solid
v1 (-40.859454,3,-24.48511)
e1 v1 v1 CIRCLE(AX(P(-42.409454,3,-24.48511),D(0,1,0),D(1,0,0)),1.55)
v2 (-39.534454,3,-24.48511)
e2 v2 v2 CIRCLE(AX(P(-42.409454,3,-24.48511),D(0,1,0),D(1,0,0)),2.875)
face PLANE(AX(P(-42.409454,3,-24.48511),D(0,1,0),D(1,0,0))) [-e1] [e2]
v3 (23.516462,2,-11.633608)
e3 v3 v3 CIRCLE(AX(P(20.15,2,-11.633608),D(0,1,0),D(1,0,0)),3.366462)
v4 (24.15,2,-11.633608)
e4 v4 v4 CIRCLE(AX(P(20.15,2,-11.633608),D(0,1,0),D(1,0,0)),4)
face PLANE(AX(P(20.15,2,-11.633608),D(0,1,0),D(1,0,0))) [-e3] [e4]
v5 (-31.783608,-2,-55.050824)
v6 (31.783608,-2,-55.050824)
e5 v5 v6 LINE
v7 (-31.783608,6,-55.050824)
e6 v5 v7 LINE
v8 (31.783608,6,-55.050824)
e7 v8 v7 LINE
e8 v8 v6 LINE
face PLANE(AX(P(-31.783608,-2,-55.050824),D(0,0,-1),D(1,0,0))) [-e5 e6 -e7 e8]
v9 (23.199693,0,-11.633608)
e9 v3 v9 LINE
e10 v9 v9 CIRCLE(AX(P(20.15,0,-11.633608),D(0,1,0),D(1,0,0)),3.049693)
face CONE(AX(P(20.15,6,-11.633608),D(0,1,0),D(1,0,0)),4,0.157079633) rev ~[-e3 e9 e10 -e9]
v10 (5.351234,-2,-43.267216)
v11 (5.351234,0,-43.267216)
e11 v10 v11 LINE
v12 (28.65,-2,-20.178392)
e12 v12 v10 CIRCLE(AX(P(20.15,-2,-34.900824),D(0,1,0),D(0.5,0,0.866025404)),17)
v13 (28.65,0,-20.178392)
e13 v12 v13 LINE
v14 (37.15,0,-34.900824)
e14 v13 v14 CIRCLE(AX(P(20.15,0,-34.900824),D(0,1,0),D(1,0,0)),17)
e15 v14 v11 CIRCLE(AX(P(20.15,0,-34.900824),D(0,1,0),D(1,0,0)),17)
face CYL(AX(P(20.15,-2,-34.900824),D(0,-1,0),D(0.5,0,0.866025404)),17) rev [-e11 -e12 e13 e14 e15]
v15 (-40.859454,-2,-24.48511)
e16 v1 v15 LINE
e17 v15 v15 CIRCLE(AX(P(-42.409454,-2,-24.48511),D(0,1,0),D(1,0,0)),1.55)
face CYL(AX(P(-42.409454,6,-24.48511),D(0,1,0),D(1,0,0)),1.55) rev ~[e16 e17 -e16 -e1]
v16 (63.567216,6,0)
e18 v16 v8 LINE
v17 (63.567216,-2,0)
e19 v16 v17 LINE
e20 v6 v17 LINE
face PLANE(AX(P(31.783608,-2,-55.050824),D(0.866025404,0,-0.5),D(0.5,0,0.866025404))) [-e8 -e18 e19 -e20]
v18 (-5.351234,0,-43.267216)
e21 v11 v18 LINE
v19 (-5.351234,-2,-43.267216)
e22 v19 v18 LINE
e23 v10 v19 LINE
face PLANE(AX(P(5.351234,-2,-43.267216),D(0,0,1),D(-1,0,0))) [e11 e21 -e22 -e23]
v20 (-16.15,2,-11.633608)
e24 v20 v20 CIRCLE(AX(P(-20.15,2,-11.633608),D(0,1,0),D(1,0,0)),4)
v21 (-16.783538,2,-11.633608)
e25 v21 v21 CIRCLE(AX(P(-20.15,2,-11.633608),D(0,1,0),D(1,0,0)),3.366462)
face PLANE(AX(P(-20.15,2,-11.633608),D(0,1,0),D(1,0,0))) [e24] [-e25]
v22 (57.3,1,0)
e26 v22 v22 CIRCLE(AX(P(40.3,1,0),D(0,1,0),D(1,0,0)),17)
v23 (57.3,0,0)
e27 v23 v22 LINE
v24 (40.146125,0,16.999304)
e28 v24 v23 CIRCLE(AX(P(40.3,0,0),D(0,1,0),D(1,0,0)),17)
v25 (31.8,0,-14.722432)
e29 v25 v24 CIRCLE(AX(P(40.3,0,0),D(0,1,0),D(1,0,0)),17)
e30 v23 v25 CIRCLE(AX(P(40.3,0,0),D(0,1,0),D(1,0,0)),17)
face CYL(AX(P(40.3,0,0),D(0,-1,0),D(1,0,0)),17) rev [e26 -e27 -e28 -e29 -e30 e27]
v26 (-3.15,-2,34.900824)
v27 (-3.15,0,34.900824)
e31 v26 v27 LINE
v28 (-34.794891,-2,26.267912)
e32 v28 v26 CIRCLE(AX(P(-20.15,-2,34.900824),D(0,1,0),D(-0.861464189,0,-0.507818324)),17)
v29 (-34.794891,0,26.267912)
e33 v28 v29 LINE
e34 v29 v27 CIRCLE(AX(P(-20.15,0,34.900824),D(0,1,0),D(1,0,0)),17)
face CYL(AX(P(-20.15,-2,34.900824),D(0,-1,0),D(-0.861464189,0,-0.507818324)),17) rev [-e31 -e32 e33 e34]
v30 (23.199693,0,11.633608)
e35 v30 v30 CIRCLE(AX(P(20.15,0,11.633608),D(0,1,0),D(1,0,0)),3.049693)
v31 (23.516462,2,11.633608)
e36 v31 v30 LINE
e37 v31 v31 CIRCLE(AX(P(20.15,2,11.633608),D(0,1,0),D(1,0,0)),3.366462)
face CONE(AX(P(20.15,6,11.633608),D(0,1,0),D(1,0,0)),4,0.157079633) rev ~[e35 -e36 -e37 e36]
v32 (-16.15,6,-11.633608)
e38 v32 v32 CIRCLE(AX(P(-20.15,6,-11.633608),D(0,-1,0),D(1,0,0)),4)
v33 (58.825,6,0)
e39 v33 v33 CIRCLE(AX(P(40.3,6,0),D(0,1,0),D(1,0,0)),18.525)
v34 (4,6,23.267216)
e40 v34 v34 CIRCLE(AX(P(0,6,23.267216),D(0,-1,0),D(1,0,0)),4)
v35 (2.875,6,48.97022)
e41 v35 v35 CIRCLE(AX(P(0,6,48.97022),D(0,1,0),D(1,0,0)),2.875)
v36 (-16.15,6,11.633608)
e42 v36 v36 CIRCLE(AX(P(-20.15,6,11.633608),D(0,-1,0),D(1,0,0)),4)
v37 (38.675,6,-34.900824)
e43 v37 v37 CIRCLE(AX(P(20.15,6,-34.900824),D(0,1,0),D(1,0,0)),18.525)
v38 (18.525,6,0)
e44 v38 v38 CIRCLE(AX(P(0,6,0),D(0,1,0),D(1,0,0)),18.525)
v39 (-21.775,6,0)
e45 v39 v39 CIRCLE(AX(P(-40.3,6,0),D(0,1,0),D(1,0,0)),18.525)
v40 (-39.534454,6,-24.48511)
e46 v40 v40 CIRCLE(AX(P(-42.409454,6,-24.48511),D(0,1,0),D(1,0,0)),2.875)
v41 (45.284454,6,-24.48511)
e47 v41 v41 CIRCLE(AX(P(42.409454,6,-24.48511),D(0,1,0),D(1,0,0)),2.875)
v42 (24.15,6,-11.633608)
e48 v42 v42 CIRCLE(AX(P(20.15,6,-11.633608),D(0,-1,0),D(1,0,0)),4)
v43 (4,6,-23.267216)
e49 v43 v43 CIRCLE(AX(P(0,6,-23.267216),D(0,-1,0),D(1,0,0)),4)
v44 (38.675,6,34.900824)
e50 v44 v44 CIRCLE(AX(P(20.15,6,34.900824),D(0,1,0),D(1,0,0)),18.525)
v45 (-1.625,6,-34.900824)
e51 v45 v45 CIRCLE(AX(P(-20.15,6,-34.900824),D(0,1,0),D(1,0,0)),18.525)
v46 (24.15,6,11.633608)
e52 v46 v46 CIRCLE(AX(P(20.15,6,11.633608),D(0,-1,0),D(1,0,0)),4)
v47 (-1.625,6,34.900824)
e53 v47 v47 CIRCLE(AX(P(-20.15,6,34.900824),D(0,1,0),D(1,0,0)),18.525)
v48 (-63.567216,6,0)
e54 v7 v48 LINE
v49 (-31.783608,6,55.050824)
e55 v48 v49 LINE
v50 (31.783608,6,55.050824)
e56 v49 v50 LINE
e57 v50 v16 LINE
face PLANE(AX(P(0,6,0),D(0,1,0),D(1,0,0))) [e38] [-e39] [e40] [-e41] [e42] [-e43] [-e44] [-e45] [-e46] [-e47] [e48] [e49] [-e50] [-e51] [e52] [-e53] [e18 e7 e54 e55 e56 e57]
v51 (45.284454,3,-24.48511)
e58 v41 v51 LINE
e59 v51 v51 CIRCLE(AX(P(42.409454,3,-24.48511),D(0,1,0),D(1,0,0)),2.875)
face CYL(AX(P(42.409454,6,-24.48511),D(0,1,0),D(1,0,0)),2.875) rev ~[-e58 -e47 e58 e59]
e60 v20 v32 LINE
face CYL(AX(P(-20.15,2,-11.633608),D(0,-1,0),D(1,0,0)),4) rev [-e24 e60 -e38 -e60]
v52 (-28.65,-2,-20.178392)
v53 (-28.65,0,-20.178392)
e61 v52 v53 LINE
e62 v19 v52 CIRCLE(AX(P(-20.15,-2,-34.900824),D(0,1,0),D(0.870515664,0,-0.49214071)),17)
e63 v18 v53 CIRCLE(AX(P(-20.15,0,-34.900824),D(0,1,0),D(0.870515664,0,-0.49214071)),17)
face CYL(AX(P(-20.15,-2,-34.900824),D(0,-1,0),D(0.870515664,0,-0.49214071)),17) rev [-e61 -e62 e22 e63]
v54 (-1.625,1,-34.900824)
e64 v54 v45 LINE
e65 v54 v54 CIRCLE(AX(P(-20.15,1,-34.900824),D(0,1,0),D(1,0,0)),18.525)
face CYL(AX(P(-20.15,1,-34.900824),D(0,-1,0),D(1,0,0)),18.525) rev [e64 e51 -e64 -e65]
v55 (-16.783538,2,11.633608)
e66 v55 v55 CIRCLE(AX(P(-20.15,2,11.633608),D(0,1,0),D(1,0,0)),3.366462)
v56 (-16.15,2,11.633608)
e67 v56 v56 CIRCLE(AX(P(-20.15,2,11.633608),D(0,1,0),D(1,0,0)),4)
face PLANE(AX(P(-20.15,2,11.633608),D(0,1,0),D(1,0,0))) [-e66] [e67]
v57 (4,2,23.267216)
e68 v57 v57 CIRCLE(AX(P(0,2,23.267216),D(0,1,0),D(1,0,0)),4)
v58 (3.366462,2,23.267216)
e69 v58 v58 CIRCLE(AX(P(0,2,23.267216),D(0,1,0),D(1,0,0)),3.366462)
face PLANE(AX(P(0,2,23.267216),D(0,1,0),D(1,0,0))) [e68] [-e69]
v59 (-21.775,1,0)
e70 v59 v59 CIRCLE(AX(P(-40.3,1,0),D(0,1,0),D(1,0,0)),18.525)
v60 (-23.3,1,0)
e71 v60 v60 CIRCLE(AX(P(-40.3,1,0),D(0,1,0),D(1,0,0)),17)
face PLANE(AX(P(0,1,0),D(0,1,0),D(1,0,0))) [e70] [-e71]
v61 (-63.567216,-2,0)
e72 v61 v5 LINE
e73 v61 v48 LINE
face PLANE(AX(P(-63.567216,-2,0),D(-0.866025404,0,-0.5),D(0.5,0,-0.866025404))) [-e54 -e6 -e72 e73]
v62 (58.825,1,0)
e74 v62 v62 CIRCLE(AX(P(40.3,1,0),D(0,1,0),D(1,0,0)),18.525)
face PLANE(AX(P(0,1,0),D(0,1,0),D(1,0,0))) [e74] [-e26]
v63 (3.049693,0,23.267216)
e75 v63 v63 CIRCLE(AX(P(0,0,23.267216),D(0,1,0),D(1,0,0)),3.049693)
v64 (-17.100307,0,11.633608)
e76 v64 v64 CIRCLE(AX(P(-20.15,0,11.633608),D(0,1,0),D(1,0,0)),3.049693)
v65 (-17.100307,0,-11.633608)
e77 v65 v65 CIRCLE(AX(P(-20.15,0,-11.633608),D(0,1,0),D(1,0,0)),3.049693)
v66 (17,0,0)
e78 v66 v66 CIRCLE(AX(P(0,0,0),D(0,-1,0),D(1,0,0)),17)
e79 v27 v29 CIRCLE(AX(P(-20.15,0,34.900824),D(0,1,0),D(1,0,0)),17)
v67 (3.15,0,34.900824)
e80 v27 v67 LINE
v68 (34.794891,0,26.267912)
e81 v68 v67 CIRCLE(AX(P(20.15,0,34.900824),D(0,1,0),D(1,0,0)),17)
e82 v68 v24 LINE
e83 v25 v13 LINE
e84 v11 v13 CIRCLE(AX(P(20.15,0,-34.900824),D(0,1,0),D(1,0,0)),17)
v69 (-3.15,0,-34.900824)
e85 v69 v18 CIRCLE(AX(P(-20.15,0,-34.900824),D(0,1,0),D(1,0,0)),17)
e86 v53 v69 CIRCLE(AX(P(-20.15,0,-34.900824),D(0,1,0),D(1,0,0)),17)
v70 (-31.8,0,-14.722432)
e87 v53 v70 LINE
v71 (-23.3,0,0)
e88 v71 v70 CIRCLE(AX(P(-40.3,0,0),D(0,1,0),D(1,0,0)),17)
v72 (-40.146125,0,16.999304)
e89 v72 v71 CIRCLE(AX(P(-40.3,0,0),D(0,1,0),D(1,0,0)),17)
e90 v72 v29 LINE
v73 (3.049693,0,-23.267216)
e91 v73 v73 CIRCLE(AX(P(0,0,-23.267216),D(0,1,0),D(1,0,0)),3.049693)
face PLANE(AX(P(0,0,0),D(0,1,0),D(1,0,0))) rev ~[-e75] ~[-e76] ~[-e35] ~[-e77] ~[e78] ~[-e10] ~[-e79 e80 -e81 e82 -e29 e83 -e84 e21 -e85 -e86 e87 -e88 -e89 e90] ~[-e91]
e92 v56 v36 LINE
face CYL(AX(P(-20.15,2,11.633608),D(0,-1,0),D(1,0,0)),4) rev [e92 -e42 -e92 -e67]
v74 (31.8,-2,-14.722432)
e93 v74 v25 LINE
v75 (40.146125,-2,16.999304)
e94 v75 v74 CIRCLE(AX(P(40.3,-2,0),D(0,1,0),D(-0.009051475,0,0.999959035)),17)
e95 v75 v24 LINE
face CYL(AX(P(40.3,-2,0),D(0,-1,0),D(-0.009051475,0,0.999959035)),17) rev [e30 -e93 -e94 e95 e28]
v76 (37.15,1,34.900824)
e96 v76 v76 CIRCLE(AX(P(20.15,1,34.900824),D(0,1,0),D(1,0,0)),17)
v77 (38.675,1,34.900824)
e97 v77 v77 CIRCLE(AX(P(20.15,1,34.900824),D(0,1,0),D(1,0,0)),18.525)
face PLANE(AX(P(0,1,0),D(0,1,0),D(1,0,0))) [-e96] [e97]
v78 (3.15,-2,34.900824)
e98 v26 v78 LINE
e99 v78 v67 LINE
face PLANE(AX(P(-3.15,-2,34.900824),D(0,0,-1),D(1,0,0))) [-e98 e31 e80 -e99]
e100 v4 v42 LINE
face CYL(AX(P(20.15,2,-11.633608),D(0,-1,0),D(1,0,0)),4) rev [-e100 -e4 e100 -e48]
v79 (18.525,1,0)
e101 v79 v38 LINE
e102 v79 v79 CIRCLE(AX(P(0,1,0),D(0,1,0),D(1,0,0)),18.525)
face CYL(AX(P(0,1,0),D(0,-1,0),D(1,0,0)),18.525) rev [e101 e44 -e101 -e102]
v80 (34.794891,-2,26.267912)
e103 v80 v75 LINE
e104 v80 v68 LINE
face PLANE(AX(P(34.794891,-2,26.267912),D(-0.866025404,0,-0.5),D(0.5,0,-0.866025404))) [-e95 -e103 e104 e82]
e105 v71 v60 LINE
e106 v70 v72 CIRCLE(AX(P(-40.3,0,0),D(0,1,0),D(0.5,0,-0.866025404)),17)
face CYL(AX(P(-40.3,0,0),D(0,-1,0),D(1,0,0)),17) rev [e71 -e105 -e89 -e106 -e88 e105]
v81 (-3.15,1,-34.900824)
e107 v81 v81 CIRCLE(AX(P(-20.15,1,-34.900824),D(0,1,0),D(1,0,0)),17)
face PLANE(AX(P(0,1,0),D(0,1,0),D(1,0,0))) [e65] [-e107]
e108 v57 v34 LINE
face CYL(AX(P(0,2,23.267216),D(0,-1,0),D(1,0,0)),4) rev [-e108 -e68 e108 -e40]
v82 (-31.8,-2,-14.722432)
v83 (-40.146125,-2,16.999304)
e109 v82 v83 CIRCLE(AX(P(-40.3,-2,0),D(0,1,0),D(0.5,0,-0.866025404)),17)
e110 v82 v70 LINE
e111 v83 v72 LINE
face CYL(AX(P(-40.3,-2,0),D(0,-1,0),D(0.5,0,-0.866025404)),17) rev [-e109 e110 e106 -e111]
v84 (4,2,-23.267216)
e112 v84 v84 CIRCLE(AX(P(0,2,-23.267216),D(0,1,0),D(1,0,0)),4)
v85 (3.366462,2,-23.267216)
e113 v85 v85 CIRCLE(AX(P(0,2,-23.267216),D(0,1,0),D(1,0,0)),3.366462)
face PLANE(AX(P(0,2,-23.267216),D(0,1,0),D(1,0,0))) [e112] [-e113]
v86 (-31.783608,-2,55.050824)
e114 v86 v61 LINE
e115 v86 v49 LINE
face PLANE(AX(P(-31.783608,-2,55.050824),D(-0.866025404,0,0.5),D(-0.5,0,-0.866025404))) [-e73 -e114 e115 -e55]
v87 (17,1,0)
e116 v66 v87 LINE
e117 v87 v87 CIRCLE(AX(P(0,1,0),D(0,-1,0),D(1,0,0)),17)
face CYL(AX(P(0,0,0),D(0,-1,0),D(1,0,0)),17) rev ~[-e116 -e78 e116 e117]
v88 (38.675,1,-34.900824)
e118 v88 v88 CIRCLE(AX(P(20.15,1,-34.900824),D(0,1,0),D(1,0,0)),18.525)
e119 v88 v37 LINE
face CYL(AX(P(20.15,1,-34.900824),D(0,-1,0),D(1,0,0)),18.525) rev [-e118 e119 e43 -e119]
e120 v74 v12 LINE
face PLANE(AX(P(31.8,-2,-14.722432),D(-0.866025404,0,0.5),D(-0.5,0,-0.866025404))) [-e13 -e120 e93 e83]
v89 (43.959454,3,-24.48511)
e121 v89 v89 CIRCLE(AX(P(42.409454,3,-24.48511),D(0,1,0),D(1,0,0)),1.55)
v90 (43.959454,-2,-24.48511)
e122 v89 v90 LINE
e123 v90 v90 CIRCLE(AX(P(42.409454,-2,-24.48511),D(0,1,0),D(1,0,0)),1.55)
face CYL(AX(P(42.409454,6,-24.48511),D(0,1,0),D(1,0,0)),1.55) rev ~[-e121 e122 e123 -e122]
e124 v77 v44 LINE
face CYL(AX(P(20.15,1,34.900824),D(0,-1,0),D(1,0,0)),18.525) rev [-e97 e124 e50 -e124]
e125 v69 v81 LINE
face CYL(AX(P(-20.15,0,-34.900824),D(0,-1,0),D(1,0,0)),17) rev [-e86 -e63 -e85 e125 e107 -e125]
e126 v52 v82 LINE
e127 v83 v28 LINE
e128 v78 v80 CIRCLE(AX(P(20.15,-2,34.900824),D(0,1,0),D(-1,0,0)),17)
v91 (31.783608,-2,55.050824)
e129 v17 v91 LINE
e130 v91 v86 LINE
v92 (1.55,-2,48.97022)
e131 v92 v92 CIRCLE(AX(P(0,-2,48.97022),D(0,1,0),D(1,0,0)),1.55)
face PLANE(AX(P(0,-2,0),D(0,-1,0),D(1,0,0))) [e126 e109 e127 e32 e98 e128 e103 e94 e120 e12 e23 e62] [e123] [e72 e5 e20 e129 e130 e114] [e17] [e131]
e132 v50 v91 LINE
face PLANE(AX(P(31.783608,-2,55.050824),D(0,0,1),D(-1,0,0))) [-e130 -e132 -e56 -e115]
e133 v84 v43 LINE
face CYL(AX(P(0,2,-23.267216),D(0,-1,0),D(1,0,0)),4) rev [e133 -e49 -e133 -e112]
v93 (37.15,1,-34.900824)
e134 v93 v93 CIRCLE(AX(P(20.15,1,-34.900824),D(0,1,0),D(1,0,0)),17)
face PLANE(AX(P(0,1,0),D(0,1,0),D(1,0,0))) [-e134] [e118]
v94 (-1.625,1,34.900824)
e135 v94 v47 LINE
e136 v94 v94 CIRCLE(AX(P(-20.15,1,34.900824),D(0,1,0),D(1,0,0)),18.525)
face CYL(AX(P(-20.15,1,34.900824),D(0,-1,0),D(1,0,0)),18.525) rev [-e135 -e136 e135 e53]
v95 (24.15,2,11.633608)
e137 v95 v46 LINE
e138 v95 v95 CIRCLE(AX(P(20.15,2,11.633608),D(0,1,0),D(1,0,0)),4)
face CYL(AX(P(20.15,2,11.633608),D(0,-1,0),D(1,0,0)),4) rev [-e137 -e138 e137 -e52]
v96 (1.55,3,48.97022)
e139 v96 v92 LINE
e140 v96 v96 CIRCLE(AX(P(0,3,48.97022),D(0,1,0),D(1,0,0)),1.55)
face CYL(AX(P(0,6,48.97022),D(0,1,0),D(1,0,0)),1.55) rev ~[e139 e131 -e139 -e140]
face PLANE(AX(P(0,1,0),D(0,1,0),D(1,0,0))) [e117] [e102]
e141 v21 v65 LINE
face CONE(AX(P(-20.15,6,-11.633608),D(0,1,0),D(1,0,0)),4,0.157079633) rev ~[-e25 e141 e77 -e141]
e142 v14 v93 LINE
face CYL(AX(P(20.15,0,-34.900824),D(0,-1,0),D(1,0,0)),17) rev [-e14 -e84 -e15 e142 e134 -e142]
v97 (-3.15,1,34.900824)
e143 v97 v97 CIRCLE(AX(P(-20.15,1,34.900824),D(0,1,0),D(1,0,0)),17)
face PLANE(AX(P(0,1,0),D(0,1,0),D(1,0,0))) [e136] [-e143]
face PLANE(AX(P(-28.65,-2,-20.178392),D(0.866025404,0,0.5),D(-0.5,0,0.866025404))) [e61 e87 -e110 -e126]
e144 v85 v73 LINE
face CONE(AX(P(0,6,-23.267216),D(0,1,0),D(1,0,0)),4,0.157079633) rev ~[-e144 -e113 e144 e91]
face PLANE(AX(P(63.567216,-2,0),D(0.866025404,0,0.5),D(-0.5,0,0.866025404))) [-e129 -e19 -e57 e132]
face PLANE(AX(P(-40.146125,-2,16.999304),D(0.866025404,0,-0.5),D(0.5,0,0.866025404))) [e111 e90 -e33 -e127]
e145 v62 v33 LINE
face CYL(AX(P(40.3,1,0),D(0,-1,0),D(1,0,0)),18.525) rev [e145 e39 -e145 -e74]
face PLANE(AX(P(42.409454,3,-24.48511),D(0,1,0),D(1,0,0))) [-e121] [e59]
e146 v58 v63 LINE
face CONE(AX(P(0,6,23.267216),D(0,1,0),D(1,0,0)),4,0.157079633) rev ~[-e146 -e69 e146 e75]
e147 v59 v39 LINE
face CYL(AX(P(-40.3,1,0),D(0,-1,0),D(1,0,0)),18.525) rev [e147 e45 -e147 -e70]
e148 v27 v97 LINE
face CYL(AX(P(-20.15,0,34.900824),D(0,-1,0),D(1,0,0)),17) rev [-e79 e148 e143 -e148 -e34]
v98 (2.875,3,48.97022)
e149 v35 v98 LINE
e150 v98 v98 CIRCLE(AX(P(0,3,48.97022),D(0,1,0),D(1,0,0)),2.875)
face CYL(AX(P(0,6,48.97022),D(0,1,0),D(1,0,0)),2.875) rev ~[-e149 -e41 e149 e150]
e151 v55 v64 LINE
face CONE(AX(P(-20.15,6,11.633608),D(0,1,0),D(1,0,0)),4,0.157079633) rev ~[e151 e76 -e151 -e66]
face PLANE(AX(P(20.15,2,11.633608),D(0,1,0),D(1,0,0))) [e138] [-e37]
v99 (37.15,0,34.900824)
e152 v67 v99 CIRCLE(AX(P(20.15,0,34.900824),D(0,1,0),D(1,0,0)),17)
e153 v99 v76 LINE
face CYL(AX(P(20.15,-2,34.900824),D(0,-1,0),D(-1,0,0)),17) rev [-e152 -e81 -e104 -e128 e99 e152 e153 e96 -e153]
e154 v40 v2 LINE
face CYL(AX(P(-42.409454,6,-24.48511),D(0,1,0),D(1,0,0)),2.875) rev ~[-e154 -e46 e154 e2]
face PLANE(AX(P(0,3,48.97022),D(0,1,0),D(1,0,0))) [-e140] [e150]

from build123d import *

# Parameters (mm, degrees)
SKETCH1_R                    = 17
BOSS_EXTRUDE1_DEPTH          = 1
SKETCH2_R                    = 18.525
BOSS_EXTRUDE2_DEPTH          = 5
CUT_EXTRUDE1_DEPTH           = 85.305303088
CUT_EXTRUDE1_DEPTH_BACK      = 4
SKETCH3_R                    = 4
SKETCH3_2_R                  = 4
CUT_EXTRUDE2_DEPTH           = 85.305303088
CUT_EXTRUDE2_DRAFT           = -9
CUT_EXTRUDE2_PROFILE_2_DEPTH = 85.305303088
CUT_EXTRUDE2_PROFILE_2_DRAFT = -9
CUT_EXTRUDE2_PROFILE_3_DEPTH = 85.305303088
CUT_EXTRUDE2_PROFILE_3_DRAFT = -9
CUT_EXTRUDE2_PROFILE_4_DEPTH = 85.305303088
CUT_EXTRUDE2_PROFILE_4_DRAFT = -9
CUT_EXTRUDE2_PROFILE_5_DEPTH = 85.305303088
CUT_EXTRUDE2_PROFILE_5_DRAFT = -9
CUT_EXTRUDE2_PROFILE_6_DEPTH = 85.305303088
CUT_EXTRUDE2_PROFILE_6_DRAFT = -9
BOSS_EXTRUDE3_START          = 2
BOSS_EXTRUDE3_DEPTH          = 2
SKETCH7_R                    = 1.55
CUT_EXTRUDE4_DEPTH           = 85.471202955
SKETCH7_3_R                  = 2.875
SKETCH7_3_R_2                = 1.55
CUT_EXTRUDE5_DEPTH           = 3


with BuildPart() as part:
    # Sketch1 → Boss-Extrude1 (new body)
    with BuildSketch(Plane(origin=(0, 0, 0), x_dir=(1, 0, 0), z_dir=(0, 1, 0))):
        Polygon((31.783607924, -55.050823773), (63.567215848, 0), (31.783607924, 55.050823773), (-31.783607924, 55.050823773), (-63.567215848, 0), (-31.783607924, -55.050823773), align=None)
        with Locations((-20.15, -34.900823773)):
            Circle(SKETCH1_R, mode=Mode.SUBTRACT)
        with Locations((20.15, -34.900823773)):
            Circle(SKETCH1_R, mode=Mode.SUBTRACT)
        with Locations((-40.3, 0)):
            Circle(SKETCH1_R, mode=Mode.SUBTRACT)
        with BuildLine():
            ThreePointArc((-17, 0), (0, 17), (17, 0))
            ThreePointArc((17, 0), (0, -17), (-17, 0))
        make_face(mode=Mode.SUBTRACT)
        with Locations((-20.15, 34.900823773)):
            Circle(SKETCH1_R, mode=Mode.SUBTRACT)
        with Locations((40.3, 0)):
            Circle(SKETCH1_R, mode=Mode.SUBTRACT)
        with Locations((20.15, 34.900823773)):
            Circle(SKETCH1_R, mode=Mode.SUBTRACT)
    extrude(amount=BOSS_EXTRUDE1_DEPTH)

    # Sketch2 → Boss-Extrude2 (add)
    with BuildSketch(Plane(origin=(0, 1, 0), x_dir=(1, 0, 0), z_dir=(0, 1, 0))):
        Polygon((63.567215848, 0), (31.783607924, 55.050823773), (-31.783607924, 55.050823773), (-63.567215848, 0), (-31.783607924, -55.050823773), (31.783607924, -55.050823773), align=None)
        with Locations((-40.3, 0)):
            Circle(SKETCH2_R, mode=Mode.SUBTRACT)
        with Locations((-20.15, 34.900823773)):
            Circle(SKETCH2_R, mode=Mode.SUBTRACT)
        with Locations((20.15, 34.900823773)):
            Circle(SKETCH2_R, mode=Mode.SUBTRACT)
        Circle(SKETCH2_R, mode=Mode.SUBTRACT)
        with Locations((40.3, 0)):
            Circle(SKETCH2_R, mode=Mode.SUBTRACT)
        with Locations((20.15, -34.900823773)):
            Circle(SKETCH2_R, mode=Mode.SUBTRACT)
        with Locations((-20.15, -34.900823773)):
            Circle(SKETCH2_R, mode=Mode.SUBTRACT)
    extrude(amount=BOSS_EXTRUDE2_DEPTH)

    # Sketch3 → Cut-Extrude1 (cut, two sides: drawn at the far end of the back side and taken through both)
    with BuildSketch(Plane(origin=(0, 6, 0), x_dir=(1, 0, 0), z_dir=(0, 1, 0)).offset(-CUT_EXTRUDE1_DEPTH_BACK)):
        with Locations((-20.15, 11.633607924)):
            Circle(SKETCH3_R)
        with Locations((20.15, 11.633607924)):
            Circle(SKETCH3_R)
        with Locations((0, -23.267215848)):
            Circle(SKETCH3_R)
        with Locations((-20.15, -11.633607924)):
            Circle(SKETCH3_R)
        with Locations((20.15, -11.633607924)):
            Circle(SKETCH3_R)
        with Locations((0, 23.267215848)):
            Circle(SKETCH3_R)
    extrude(amount=CUT_EXTRUDE1_DEPTH + CUT_EXTRUDE1_DEPTH_BACK, mode=Mode.SUBTRACT)


with BuildPart() as cut_extrude2_tool:
    # Sketch3<2> → Cut-Extrude2 (with draft: the straight prism first)
    with BuildSketch(Plane(origin=(0, 6, 0), x_dir=(1, 0, 0), z_dir=(0, 1, 0))):
        with Locations((-20.15, 11.633607924)):
            Circle(SKETCH3_2_R)
    extrude(amount=-CUT_EXTRUDE2_DEPTH)
    # Cut-Extrude2: the draft: its side faces are tilted about the plane it starts from
    cut_extrude2_sides = [cut_extrude2_tool.faces().sort_by_distance(p)[0] for p in [
        (-24.15, -36.652651544, -11.633607924),
    ]]
    draft(cut_extrude2_sides, Plane(origin=(0, 6, 0), x_dir=(1, 0, 0), z_dir=(0, 1, 0)), CUT_EXTRUDE2_DRAFT)


with BuildPart() as part_1:
    add(part.part)

    # Cut-Extrude2: cut by cut_extrude2_tool
    add(cut_extrude2_tool.part, mode=Mode.SUBTRACT)


with BuildPart() as cut_extrude2_profile_2_tool:
    # Sketch3<2> → Cut-Extrude2 profile 2 (with draft: the straight prism first)
    with BuildSketch(Plane(origin=(0, 6, 0), x_dir=(1, 0, 0), z_dir=(0, 1, 0))):
        with Locations((20.15, 11.633607924)):
            Circle(SKETCH3_2_R)
    extrude(amount=-CUT_EXTRUDE2_PROFILE_2_DEPTH)
    # Cut-Extrude2 profile 2: the draft: its side faces are tilted about the plane it starts from
    cut_extrude2_profile_2_sides = [cut_extrude2_profile_2_tool.faces().sort_by_distance(p)[0] for p in [
        (16.15, -36.652651544, -11.633607924),
    ]]
    draft(cut_extrude2_profile_2_sides, Plane(origin=(0, 6, 0), x_dir=(1, 0, 0), z_dir=(0, 1, 0)), CUT_EXTRUDE2_PROFILE_2_DRAFT)


with BuildPart() as part_2:
    add(part_1.part)

    # Cut-Extrude2 profile 2: cut by cut_extrude2_profile_2_tool
    add(cut_extrude2_profile_2_tool.part, mode=Mode.SUBTRACT)


with BuildPart() as cut_extrude2_profile_3_tool:
    # Sketch3<2> → Cut-Extrude2 profile 3 (with draft: the straight prism first)
    with BuildSketch(Plane(origin=(0, 6, 0), x_dir=(1, 0, 0), z_dir=(0, 1, 0))):
        with Locations((0, -23.267215848)):
            Circle(SKETCH3_2_R)
    extrude(amount=-CUT_EXTRUDE2_PROFILE_3_DEPTH)
    # Cut-Extrude2 profile 3: the draft: its side faces are tilted about the plane it starts from
    cut_extrude2_profile_3_sides = [cut_extrude2_profile_3_tool.faces().sort_by_distance(p)[0] for p in [
        (-4, -36.652651544, 23.267215848),
    ]]
    draft(cut_extrude2_profile_3_sides, Plane(origin=(0, 6, 0), x_dir=(1, 0, 0), z_dir=(0, 1, 0)), CUT_EXTRUDE2_PROFILE_3_DRAFT)


with BuildPart() as part_3:
    add(part_2.part)

    # Cut-Extrude2 profile 3: cut by cut_extrude2_profile_3_tool
    add(cut_extrude2_profile_3_tool.part, mode=Mode.SUBTRACT)


with BuildPart() as cut_extrude2_profile_4_tool:
    # Sketch3<2> → Cut-Extrude2 profile 4 (with draft: the straight prism first)
    with BuildSketch(Plane(origin=(0, 6, 0), x_dir=(1, 0, 0), z_dir=(0, 1, 0))):
        with Locations((-20.15, -11.633607924)):
            Circle(SKETCH3_2_R)
    extrude(amount=-CUT_EXTRUDE2_PROFILE_4_DEPTH)
    # Cut-Extrude2 profile 4: the draft: its side faces are tilted about the plane it starts from
    cut_extrude2_profile_4_sides = [cut_extrude2_profile_4_tool.faces().sort_by_distance(p)[0] for p in [
        (-24.15, -36.652651544, 11.633607924),
    ]]
    draft(cut_extrude2_profile_4_sides, Plane(origin=(0, 6, 0), x_dir=(1, 0, 0), z_dir=(0, 1, 0)), CUT_EXTRUDE2_PROFILE_4_DRAFT)


with BuildPart() as part_4:
    add(part_3.part)

    # Cut-Extrude2 profile 4: cut by cut_extrude2_profile_4_tool
    add(cut_extrude2_profile_4_tool.part, mode=Mode.SUBTRACT)


with BuildPart() as cut_extrude2_profile_5_tool:
    # Sketch3<2> → Cut-Extrude2 profile 5 (with draft: the straight prism first)
    with BuildSketch(Plane(origin=(0, 6, 0), x_dir=(1, 0, 0), z_dir=(0, 1, 0))):
        with Locations((20.15, -11.633607924)):
            Circle(SKETCH3_2_R)
    extrude(amount=-CUT_EXTRUDE2_PROFILE_5_DEPTH)
    # Cut-Extrude2 profile 5: the draft: its side faces are tilted about the plane it starts from
    cut_extrude2_profile_5_sides = [cut_extrude2_profile_5_tool.faces().sort_by_distance(p)[0] for p in [
        (16.15, -36.652651544, 11.633607924),
    ]]
    draft(cut_extrude2_profile_5_sides, Plane(origin=(0, 6, 0), x_dir=(1, 0, 0), z_dir=(0, 1, 0)), CUT_EXTRUDE2_PROFILE_5_DRAFT)


with BuildPart() as part_5:
    add(part_4.part)

    # Cut-Extrude2 profile 5: cut by cut_extrude2_profile_5_tool
    add(cut_extrude2_profile_5_tool.part, mode=Mode.SUBTRACT)


with BuildPart() as cut_extrude2_profile_6_tool:
    # Sketch3<2> → Cut-Extrude2 profile 6 (with draft: the straight prism first)
    with BuildSketch(Plane(origin=(0, 6, 0), x_dir=(1, 0, 0), z_dir=(0, 1, 0))):
        with Locations((0, 23.267215848)):
            Circle(SKETCH3_2_R)
    extrude(amount=-CUT_EXTRUDE2_PROFILE_6_DEPTH)
    # Cut-Extrude2 profile 6: the draft: its side faces are tilted about the plane it starts from
    cut_extrude2_profile_6_sides = [cut_extrude2_profile_6_tool.faces().sort_by_distance(p)[0] for p in [
        (-4, -36.652651544, -23.267215848),
    ]]
    draft(cut_extrude2_profile_6_sides, Plane(origin=(0, 6, 0), x_dir=(1, 0, 0), z_dir=(0, 1, 0)), CUT_EXTRUDE2_PROFILE_6_DRAFT)


with BuildPart() as part_6:
    add(part_5.part)

    # Cut-Extrude2 profile 6: cut by cut_extrude2_profile_6_tool
    add(cut_extrude2_profile_6_tool.part, mode=Mode.SUBTRACT)

    # Sketch5 → Boss-Extrude3 (add)
    with BuildSketch(Plane.XZ.offset(BOSS_EXTRUDE3_START)):
        Polygon((-31.783607924, -55.050823773), (31.783607924, -55.050823773), (63.567215848, 0), (31.783607924, 55.050823773), (-31.783607924, 55.050823773), (-63.567215848, 0), align=None)
        with BuildLine():
            ThreePointArc((-31.8, -14.722431864), (-56.740483978, -4.325561993), (-40.146124932, 16.999303588))
            Line((-40.146124932, 16.999303588), (-34.794891219, 26.267912261))
            ThreePointArc((-34.794891219, 26.267912261), (-24.624195418, 51.301481545), (-3.15, 34.900823773))
            Line((-3.15, 34.900823773), (3.15, 34.900823773))
            ThreePointArc((3.15, 34.900823773), (24.624195418, 51.301481545), (34.794891219, 26.267912261))
            Line((34.794891219, 26.267912261), (40.146124932, 16.999303588))
            ThreePointArc((40.146124932, 16.999303588), (56.740483978, -4.325561993), (31.8, -14.722431864))
            Line((31.8, -14.722431864), (28.65, -20.178391908))
            ThreePointArc((28.65, -20.178391908), (32.116288561, -46.975919552), (5.351233712, -43.267215848))
            Line((5.351233712, -43.267215848), (-5.351233712, -43.267215848))
            ThreePointArc((-5.351233712, -43.267215848), (-32.116288561, -46.975919552), (-28.65, -20.178391908))
            Line((-28.65, -20.178391908), (-31.8, -14.722431864))
        make_face(mode=Mode.SUBTRACT)
    extrude(amount=-BOSS_EXTRUDE3_DEPTH)

    # Sketch7 → Cut-Extrude4 (cut, through all)
    with BuildSketch(Plane(origin=(0, 6, 0), x_dir=(1, 0, 0), z_dir=(0, 1, 0))):
        with Locations((-42.409454211, 24.485109805)):
            Circle(SKETCH7_R)
        with Locations((42.409454211, 24.485109805)):
            Circle(SKETCH7_R)
        with Locations((0, -48.97021961)):
            Circle(SKETCH7_R)
    extrude(amount=-CUT_EXTRUDE4_DEPTH, mode=Mode.SUBTRACT)

    # Sketch7<3> → Cut-Extrude5 (cut)
    # profile 1 of 3: a face of its own
    with BuildSketch(Plane(origin=(0, 6, 0), x_dir=(1, 0, 0), z_dir=(0, 1, 0))):
        with Locations((-42.409454211, 24.485109805)):
            Circle(SKETCH7_3_R)
        with Locations((-42.409454211, 24.485109805)):
            Circle(SKETCH7_3_R_2, mode=Mode.SUBTRACT)
    # profile 2 of 3: a face of its own
    with BuildSketch(Plane(origin=(0, 6, 0), x_dir=(1, 0, 0), z_dir=(0, 1, 0))):
        with Locations((42.409454211, 24.485109805)):
            Circle(SKETCH7_3_R)
    # profile 3 of 3: a face of its own
    with BuildSketch(Plane(origin=(0, 6, 0), x_dir=(1, 0, 0), z_dir=(0, 1, 0))):
        with Locations((0, -48.97021961)):
            Circle(SKETCH7_3_R)
    extrude(amount=-CUT_EXTRUDE5_DEPTH, mode=Mode.SUBTRACT)


solid = part_6.part
